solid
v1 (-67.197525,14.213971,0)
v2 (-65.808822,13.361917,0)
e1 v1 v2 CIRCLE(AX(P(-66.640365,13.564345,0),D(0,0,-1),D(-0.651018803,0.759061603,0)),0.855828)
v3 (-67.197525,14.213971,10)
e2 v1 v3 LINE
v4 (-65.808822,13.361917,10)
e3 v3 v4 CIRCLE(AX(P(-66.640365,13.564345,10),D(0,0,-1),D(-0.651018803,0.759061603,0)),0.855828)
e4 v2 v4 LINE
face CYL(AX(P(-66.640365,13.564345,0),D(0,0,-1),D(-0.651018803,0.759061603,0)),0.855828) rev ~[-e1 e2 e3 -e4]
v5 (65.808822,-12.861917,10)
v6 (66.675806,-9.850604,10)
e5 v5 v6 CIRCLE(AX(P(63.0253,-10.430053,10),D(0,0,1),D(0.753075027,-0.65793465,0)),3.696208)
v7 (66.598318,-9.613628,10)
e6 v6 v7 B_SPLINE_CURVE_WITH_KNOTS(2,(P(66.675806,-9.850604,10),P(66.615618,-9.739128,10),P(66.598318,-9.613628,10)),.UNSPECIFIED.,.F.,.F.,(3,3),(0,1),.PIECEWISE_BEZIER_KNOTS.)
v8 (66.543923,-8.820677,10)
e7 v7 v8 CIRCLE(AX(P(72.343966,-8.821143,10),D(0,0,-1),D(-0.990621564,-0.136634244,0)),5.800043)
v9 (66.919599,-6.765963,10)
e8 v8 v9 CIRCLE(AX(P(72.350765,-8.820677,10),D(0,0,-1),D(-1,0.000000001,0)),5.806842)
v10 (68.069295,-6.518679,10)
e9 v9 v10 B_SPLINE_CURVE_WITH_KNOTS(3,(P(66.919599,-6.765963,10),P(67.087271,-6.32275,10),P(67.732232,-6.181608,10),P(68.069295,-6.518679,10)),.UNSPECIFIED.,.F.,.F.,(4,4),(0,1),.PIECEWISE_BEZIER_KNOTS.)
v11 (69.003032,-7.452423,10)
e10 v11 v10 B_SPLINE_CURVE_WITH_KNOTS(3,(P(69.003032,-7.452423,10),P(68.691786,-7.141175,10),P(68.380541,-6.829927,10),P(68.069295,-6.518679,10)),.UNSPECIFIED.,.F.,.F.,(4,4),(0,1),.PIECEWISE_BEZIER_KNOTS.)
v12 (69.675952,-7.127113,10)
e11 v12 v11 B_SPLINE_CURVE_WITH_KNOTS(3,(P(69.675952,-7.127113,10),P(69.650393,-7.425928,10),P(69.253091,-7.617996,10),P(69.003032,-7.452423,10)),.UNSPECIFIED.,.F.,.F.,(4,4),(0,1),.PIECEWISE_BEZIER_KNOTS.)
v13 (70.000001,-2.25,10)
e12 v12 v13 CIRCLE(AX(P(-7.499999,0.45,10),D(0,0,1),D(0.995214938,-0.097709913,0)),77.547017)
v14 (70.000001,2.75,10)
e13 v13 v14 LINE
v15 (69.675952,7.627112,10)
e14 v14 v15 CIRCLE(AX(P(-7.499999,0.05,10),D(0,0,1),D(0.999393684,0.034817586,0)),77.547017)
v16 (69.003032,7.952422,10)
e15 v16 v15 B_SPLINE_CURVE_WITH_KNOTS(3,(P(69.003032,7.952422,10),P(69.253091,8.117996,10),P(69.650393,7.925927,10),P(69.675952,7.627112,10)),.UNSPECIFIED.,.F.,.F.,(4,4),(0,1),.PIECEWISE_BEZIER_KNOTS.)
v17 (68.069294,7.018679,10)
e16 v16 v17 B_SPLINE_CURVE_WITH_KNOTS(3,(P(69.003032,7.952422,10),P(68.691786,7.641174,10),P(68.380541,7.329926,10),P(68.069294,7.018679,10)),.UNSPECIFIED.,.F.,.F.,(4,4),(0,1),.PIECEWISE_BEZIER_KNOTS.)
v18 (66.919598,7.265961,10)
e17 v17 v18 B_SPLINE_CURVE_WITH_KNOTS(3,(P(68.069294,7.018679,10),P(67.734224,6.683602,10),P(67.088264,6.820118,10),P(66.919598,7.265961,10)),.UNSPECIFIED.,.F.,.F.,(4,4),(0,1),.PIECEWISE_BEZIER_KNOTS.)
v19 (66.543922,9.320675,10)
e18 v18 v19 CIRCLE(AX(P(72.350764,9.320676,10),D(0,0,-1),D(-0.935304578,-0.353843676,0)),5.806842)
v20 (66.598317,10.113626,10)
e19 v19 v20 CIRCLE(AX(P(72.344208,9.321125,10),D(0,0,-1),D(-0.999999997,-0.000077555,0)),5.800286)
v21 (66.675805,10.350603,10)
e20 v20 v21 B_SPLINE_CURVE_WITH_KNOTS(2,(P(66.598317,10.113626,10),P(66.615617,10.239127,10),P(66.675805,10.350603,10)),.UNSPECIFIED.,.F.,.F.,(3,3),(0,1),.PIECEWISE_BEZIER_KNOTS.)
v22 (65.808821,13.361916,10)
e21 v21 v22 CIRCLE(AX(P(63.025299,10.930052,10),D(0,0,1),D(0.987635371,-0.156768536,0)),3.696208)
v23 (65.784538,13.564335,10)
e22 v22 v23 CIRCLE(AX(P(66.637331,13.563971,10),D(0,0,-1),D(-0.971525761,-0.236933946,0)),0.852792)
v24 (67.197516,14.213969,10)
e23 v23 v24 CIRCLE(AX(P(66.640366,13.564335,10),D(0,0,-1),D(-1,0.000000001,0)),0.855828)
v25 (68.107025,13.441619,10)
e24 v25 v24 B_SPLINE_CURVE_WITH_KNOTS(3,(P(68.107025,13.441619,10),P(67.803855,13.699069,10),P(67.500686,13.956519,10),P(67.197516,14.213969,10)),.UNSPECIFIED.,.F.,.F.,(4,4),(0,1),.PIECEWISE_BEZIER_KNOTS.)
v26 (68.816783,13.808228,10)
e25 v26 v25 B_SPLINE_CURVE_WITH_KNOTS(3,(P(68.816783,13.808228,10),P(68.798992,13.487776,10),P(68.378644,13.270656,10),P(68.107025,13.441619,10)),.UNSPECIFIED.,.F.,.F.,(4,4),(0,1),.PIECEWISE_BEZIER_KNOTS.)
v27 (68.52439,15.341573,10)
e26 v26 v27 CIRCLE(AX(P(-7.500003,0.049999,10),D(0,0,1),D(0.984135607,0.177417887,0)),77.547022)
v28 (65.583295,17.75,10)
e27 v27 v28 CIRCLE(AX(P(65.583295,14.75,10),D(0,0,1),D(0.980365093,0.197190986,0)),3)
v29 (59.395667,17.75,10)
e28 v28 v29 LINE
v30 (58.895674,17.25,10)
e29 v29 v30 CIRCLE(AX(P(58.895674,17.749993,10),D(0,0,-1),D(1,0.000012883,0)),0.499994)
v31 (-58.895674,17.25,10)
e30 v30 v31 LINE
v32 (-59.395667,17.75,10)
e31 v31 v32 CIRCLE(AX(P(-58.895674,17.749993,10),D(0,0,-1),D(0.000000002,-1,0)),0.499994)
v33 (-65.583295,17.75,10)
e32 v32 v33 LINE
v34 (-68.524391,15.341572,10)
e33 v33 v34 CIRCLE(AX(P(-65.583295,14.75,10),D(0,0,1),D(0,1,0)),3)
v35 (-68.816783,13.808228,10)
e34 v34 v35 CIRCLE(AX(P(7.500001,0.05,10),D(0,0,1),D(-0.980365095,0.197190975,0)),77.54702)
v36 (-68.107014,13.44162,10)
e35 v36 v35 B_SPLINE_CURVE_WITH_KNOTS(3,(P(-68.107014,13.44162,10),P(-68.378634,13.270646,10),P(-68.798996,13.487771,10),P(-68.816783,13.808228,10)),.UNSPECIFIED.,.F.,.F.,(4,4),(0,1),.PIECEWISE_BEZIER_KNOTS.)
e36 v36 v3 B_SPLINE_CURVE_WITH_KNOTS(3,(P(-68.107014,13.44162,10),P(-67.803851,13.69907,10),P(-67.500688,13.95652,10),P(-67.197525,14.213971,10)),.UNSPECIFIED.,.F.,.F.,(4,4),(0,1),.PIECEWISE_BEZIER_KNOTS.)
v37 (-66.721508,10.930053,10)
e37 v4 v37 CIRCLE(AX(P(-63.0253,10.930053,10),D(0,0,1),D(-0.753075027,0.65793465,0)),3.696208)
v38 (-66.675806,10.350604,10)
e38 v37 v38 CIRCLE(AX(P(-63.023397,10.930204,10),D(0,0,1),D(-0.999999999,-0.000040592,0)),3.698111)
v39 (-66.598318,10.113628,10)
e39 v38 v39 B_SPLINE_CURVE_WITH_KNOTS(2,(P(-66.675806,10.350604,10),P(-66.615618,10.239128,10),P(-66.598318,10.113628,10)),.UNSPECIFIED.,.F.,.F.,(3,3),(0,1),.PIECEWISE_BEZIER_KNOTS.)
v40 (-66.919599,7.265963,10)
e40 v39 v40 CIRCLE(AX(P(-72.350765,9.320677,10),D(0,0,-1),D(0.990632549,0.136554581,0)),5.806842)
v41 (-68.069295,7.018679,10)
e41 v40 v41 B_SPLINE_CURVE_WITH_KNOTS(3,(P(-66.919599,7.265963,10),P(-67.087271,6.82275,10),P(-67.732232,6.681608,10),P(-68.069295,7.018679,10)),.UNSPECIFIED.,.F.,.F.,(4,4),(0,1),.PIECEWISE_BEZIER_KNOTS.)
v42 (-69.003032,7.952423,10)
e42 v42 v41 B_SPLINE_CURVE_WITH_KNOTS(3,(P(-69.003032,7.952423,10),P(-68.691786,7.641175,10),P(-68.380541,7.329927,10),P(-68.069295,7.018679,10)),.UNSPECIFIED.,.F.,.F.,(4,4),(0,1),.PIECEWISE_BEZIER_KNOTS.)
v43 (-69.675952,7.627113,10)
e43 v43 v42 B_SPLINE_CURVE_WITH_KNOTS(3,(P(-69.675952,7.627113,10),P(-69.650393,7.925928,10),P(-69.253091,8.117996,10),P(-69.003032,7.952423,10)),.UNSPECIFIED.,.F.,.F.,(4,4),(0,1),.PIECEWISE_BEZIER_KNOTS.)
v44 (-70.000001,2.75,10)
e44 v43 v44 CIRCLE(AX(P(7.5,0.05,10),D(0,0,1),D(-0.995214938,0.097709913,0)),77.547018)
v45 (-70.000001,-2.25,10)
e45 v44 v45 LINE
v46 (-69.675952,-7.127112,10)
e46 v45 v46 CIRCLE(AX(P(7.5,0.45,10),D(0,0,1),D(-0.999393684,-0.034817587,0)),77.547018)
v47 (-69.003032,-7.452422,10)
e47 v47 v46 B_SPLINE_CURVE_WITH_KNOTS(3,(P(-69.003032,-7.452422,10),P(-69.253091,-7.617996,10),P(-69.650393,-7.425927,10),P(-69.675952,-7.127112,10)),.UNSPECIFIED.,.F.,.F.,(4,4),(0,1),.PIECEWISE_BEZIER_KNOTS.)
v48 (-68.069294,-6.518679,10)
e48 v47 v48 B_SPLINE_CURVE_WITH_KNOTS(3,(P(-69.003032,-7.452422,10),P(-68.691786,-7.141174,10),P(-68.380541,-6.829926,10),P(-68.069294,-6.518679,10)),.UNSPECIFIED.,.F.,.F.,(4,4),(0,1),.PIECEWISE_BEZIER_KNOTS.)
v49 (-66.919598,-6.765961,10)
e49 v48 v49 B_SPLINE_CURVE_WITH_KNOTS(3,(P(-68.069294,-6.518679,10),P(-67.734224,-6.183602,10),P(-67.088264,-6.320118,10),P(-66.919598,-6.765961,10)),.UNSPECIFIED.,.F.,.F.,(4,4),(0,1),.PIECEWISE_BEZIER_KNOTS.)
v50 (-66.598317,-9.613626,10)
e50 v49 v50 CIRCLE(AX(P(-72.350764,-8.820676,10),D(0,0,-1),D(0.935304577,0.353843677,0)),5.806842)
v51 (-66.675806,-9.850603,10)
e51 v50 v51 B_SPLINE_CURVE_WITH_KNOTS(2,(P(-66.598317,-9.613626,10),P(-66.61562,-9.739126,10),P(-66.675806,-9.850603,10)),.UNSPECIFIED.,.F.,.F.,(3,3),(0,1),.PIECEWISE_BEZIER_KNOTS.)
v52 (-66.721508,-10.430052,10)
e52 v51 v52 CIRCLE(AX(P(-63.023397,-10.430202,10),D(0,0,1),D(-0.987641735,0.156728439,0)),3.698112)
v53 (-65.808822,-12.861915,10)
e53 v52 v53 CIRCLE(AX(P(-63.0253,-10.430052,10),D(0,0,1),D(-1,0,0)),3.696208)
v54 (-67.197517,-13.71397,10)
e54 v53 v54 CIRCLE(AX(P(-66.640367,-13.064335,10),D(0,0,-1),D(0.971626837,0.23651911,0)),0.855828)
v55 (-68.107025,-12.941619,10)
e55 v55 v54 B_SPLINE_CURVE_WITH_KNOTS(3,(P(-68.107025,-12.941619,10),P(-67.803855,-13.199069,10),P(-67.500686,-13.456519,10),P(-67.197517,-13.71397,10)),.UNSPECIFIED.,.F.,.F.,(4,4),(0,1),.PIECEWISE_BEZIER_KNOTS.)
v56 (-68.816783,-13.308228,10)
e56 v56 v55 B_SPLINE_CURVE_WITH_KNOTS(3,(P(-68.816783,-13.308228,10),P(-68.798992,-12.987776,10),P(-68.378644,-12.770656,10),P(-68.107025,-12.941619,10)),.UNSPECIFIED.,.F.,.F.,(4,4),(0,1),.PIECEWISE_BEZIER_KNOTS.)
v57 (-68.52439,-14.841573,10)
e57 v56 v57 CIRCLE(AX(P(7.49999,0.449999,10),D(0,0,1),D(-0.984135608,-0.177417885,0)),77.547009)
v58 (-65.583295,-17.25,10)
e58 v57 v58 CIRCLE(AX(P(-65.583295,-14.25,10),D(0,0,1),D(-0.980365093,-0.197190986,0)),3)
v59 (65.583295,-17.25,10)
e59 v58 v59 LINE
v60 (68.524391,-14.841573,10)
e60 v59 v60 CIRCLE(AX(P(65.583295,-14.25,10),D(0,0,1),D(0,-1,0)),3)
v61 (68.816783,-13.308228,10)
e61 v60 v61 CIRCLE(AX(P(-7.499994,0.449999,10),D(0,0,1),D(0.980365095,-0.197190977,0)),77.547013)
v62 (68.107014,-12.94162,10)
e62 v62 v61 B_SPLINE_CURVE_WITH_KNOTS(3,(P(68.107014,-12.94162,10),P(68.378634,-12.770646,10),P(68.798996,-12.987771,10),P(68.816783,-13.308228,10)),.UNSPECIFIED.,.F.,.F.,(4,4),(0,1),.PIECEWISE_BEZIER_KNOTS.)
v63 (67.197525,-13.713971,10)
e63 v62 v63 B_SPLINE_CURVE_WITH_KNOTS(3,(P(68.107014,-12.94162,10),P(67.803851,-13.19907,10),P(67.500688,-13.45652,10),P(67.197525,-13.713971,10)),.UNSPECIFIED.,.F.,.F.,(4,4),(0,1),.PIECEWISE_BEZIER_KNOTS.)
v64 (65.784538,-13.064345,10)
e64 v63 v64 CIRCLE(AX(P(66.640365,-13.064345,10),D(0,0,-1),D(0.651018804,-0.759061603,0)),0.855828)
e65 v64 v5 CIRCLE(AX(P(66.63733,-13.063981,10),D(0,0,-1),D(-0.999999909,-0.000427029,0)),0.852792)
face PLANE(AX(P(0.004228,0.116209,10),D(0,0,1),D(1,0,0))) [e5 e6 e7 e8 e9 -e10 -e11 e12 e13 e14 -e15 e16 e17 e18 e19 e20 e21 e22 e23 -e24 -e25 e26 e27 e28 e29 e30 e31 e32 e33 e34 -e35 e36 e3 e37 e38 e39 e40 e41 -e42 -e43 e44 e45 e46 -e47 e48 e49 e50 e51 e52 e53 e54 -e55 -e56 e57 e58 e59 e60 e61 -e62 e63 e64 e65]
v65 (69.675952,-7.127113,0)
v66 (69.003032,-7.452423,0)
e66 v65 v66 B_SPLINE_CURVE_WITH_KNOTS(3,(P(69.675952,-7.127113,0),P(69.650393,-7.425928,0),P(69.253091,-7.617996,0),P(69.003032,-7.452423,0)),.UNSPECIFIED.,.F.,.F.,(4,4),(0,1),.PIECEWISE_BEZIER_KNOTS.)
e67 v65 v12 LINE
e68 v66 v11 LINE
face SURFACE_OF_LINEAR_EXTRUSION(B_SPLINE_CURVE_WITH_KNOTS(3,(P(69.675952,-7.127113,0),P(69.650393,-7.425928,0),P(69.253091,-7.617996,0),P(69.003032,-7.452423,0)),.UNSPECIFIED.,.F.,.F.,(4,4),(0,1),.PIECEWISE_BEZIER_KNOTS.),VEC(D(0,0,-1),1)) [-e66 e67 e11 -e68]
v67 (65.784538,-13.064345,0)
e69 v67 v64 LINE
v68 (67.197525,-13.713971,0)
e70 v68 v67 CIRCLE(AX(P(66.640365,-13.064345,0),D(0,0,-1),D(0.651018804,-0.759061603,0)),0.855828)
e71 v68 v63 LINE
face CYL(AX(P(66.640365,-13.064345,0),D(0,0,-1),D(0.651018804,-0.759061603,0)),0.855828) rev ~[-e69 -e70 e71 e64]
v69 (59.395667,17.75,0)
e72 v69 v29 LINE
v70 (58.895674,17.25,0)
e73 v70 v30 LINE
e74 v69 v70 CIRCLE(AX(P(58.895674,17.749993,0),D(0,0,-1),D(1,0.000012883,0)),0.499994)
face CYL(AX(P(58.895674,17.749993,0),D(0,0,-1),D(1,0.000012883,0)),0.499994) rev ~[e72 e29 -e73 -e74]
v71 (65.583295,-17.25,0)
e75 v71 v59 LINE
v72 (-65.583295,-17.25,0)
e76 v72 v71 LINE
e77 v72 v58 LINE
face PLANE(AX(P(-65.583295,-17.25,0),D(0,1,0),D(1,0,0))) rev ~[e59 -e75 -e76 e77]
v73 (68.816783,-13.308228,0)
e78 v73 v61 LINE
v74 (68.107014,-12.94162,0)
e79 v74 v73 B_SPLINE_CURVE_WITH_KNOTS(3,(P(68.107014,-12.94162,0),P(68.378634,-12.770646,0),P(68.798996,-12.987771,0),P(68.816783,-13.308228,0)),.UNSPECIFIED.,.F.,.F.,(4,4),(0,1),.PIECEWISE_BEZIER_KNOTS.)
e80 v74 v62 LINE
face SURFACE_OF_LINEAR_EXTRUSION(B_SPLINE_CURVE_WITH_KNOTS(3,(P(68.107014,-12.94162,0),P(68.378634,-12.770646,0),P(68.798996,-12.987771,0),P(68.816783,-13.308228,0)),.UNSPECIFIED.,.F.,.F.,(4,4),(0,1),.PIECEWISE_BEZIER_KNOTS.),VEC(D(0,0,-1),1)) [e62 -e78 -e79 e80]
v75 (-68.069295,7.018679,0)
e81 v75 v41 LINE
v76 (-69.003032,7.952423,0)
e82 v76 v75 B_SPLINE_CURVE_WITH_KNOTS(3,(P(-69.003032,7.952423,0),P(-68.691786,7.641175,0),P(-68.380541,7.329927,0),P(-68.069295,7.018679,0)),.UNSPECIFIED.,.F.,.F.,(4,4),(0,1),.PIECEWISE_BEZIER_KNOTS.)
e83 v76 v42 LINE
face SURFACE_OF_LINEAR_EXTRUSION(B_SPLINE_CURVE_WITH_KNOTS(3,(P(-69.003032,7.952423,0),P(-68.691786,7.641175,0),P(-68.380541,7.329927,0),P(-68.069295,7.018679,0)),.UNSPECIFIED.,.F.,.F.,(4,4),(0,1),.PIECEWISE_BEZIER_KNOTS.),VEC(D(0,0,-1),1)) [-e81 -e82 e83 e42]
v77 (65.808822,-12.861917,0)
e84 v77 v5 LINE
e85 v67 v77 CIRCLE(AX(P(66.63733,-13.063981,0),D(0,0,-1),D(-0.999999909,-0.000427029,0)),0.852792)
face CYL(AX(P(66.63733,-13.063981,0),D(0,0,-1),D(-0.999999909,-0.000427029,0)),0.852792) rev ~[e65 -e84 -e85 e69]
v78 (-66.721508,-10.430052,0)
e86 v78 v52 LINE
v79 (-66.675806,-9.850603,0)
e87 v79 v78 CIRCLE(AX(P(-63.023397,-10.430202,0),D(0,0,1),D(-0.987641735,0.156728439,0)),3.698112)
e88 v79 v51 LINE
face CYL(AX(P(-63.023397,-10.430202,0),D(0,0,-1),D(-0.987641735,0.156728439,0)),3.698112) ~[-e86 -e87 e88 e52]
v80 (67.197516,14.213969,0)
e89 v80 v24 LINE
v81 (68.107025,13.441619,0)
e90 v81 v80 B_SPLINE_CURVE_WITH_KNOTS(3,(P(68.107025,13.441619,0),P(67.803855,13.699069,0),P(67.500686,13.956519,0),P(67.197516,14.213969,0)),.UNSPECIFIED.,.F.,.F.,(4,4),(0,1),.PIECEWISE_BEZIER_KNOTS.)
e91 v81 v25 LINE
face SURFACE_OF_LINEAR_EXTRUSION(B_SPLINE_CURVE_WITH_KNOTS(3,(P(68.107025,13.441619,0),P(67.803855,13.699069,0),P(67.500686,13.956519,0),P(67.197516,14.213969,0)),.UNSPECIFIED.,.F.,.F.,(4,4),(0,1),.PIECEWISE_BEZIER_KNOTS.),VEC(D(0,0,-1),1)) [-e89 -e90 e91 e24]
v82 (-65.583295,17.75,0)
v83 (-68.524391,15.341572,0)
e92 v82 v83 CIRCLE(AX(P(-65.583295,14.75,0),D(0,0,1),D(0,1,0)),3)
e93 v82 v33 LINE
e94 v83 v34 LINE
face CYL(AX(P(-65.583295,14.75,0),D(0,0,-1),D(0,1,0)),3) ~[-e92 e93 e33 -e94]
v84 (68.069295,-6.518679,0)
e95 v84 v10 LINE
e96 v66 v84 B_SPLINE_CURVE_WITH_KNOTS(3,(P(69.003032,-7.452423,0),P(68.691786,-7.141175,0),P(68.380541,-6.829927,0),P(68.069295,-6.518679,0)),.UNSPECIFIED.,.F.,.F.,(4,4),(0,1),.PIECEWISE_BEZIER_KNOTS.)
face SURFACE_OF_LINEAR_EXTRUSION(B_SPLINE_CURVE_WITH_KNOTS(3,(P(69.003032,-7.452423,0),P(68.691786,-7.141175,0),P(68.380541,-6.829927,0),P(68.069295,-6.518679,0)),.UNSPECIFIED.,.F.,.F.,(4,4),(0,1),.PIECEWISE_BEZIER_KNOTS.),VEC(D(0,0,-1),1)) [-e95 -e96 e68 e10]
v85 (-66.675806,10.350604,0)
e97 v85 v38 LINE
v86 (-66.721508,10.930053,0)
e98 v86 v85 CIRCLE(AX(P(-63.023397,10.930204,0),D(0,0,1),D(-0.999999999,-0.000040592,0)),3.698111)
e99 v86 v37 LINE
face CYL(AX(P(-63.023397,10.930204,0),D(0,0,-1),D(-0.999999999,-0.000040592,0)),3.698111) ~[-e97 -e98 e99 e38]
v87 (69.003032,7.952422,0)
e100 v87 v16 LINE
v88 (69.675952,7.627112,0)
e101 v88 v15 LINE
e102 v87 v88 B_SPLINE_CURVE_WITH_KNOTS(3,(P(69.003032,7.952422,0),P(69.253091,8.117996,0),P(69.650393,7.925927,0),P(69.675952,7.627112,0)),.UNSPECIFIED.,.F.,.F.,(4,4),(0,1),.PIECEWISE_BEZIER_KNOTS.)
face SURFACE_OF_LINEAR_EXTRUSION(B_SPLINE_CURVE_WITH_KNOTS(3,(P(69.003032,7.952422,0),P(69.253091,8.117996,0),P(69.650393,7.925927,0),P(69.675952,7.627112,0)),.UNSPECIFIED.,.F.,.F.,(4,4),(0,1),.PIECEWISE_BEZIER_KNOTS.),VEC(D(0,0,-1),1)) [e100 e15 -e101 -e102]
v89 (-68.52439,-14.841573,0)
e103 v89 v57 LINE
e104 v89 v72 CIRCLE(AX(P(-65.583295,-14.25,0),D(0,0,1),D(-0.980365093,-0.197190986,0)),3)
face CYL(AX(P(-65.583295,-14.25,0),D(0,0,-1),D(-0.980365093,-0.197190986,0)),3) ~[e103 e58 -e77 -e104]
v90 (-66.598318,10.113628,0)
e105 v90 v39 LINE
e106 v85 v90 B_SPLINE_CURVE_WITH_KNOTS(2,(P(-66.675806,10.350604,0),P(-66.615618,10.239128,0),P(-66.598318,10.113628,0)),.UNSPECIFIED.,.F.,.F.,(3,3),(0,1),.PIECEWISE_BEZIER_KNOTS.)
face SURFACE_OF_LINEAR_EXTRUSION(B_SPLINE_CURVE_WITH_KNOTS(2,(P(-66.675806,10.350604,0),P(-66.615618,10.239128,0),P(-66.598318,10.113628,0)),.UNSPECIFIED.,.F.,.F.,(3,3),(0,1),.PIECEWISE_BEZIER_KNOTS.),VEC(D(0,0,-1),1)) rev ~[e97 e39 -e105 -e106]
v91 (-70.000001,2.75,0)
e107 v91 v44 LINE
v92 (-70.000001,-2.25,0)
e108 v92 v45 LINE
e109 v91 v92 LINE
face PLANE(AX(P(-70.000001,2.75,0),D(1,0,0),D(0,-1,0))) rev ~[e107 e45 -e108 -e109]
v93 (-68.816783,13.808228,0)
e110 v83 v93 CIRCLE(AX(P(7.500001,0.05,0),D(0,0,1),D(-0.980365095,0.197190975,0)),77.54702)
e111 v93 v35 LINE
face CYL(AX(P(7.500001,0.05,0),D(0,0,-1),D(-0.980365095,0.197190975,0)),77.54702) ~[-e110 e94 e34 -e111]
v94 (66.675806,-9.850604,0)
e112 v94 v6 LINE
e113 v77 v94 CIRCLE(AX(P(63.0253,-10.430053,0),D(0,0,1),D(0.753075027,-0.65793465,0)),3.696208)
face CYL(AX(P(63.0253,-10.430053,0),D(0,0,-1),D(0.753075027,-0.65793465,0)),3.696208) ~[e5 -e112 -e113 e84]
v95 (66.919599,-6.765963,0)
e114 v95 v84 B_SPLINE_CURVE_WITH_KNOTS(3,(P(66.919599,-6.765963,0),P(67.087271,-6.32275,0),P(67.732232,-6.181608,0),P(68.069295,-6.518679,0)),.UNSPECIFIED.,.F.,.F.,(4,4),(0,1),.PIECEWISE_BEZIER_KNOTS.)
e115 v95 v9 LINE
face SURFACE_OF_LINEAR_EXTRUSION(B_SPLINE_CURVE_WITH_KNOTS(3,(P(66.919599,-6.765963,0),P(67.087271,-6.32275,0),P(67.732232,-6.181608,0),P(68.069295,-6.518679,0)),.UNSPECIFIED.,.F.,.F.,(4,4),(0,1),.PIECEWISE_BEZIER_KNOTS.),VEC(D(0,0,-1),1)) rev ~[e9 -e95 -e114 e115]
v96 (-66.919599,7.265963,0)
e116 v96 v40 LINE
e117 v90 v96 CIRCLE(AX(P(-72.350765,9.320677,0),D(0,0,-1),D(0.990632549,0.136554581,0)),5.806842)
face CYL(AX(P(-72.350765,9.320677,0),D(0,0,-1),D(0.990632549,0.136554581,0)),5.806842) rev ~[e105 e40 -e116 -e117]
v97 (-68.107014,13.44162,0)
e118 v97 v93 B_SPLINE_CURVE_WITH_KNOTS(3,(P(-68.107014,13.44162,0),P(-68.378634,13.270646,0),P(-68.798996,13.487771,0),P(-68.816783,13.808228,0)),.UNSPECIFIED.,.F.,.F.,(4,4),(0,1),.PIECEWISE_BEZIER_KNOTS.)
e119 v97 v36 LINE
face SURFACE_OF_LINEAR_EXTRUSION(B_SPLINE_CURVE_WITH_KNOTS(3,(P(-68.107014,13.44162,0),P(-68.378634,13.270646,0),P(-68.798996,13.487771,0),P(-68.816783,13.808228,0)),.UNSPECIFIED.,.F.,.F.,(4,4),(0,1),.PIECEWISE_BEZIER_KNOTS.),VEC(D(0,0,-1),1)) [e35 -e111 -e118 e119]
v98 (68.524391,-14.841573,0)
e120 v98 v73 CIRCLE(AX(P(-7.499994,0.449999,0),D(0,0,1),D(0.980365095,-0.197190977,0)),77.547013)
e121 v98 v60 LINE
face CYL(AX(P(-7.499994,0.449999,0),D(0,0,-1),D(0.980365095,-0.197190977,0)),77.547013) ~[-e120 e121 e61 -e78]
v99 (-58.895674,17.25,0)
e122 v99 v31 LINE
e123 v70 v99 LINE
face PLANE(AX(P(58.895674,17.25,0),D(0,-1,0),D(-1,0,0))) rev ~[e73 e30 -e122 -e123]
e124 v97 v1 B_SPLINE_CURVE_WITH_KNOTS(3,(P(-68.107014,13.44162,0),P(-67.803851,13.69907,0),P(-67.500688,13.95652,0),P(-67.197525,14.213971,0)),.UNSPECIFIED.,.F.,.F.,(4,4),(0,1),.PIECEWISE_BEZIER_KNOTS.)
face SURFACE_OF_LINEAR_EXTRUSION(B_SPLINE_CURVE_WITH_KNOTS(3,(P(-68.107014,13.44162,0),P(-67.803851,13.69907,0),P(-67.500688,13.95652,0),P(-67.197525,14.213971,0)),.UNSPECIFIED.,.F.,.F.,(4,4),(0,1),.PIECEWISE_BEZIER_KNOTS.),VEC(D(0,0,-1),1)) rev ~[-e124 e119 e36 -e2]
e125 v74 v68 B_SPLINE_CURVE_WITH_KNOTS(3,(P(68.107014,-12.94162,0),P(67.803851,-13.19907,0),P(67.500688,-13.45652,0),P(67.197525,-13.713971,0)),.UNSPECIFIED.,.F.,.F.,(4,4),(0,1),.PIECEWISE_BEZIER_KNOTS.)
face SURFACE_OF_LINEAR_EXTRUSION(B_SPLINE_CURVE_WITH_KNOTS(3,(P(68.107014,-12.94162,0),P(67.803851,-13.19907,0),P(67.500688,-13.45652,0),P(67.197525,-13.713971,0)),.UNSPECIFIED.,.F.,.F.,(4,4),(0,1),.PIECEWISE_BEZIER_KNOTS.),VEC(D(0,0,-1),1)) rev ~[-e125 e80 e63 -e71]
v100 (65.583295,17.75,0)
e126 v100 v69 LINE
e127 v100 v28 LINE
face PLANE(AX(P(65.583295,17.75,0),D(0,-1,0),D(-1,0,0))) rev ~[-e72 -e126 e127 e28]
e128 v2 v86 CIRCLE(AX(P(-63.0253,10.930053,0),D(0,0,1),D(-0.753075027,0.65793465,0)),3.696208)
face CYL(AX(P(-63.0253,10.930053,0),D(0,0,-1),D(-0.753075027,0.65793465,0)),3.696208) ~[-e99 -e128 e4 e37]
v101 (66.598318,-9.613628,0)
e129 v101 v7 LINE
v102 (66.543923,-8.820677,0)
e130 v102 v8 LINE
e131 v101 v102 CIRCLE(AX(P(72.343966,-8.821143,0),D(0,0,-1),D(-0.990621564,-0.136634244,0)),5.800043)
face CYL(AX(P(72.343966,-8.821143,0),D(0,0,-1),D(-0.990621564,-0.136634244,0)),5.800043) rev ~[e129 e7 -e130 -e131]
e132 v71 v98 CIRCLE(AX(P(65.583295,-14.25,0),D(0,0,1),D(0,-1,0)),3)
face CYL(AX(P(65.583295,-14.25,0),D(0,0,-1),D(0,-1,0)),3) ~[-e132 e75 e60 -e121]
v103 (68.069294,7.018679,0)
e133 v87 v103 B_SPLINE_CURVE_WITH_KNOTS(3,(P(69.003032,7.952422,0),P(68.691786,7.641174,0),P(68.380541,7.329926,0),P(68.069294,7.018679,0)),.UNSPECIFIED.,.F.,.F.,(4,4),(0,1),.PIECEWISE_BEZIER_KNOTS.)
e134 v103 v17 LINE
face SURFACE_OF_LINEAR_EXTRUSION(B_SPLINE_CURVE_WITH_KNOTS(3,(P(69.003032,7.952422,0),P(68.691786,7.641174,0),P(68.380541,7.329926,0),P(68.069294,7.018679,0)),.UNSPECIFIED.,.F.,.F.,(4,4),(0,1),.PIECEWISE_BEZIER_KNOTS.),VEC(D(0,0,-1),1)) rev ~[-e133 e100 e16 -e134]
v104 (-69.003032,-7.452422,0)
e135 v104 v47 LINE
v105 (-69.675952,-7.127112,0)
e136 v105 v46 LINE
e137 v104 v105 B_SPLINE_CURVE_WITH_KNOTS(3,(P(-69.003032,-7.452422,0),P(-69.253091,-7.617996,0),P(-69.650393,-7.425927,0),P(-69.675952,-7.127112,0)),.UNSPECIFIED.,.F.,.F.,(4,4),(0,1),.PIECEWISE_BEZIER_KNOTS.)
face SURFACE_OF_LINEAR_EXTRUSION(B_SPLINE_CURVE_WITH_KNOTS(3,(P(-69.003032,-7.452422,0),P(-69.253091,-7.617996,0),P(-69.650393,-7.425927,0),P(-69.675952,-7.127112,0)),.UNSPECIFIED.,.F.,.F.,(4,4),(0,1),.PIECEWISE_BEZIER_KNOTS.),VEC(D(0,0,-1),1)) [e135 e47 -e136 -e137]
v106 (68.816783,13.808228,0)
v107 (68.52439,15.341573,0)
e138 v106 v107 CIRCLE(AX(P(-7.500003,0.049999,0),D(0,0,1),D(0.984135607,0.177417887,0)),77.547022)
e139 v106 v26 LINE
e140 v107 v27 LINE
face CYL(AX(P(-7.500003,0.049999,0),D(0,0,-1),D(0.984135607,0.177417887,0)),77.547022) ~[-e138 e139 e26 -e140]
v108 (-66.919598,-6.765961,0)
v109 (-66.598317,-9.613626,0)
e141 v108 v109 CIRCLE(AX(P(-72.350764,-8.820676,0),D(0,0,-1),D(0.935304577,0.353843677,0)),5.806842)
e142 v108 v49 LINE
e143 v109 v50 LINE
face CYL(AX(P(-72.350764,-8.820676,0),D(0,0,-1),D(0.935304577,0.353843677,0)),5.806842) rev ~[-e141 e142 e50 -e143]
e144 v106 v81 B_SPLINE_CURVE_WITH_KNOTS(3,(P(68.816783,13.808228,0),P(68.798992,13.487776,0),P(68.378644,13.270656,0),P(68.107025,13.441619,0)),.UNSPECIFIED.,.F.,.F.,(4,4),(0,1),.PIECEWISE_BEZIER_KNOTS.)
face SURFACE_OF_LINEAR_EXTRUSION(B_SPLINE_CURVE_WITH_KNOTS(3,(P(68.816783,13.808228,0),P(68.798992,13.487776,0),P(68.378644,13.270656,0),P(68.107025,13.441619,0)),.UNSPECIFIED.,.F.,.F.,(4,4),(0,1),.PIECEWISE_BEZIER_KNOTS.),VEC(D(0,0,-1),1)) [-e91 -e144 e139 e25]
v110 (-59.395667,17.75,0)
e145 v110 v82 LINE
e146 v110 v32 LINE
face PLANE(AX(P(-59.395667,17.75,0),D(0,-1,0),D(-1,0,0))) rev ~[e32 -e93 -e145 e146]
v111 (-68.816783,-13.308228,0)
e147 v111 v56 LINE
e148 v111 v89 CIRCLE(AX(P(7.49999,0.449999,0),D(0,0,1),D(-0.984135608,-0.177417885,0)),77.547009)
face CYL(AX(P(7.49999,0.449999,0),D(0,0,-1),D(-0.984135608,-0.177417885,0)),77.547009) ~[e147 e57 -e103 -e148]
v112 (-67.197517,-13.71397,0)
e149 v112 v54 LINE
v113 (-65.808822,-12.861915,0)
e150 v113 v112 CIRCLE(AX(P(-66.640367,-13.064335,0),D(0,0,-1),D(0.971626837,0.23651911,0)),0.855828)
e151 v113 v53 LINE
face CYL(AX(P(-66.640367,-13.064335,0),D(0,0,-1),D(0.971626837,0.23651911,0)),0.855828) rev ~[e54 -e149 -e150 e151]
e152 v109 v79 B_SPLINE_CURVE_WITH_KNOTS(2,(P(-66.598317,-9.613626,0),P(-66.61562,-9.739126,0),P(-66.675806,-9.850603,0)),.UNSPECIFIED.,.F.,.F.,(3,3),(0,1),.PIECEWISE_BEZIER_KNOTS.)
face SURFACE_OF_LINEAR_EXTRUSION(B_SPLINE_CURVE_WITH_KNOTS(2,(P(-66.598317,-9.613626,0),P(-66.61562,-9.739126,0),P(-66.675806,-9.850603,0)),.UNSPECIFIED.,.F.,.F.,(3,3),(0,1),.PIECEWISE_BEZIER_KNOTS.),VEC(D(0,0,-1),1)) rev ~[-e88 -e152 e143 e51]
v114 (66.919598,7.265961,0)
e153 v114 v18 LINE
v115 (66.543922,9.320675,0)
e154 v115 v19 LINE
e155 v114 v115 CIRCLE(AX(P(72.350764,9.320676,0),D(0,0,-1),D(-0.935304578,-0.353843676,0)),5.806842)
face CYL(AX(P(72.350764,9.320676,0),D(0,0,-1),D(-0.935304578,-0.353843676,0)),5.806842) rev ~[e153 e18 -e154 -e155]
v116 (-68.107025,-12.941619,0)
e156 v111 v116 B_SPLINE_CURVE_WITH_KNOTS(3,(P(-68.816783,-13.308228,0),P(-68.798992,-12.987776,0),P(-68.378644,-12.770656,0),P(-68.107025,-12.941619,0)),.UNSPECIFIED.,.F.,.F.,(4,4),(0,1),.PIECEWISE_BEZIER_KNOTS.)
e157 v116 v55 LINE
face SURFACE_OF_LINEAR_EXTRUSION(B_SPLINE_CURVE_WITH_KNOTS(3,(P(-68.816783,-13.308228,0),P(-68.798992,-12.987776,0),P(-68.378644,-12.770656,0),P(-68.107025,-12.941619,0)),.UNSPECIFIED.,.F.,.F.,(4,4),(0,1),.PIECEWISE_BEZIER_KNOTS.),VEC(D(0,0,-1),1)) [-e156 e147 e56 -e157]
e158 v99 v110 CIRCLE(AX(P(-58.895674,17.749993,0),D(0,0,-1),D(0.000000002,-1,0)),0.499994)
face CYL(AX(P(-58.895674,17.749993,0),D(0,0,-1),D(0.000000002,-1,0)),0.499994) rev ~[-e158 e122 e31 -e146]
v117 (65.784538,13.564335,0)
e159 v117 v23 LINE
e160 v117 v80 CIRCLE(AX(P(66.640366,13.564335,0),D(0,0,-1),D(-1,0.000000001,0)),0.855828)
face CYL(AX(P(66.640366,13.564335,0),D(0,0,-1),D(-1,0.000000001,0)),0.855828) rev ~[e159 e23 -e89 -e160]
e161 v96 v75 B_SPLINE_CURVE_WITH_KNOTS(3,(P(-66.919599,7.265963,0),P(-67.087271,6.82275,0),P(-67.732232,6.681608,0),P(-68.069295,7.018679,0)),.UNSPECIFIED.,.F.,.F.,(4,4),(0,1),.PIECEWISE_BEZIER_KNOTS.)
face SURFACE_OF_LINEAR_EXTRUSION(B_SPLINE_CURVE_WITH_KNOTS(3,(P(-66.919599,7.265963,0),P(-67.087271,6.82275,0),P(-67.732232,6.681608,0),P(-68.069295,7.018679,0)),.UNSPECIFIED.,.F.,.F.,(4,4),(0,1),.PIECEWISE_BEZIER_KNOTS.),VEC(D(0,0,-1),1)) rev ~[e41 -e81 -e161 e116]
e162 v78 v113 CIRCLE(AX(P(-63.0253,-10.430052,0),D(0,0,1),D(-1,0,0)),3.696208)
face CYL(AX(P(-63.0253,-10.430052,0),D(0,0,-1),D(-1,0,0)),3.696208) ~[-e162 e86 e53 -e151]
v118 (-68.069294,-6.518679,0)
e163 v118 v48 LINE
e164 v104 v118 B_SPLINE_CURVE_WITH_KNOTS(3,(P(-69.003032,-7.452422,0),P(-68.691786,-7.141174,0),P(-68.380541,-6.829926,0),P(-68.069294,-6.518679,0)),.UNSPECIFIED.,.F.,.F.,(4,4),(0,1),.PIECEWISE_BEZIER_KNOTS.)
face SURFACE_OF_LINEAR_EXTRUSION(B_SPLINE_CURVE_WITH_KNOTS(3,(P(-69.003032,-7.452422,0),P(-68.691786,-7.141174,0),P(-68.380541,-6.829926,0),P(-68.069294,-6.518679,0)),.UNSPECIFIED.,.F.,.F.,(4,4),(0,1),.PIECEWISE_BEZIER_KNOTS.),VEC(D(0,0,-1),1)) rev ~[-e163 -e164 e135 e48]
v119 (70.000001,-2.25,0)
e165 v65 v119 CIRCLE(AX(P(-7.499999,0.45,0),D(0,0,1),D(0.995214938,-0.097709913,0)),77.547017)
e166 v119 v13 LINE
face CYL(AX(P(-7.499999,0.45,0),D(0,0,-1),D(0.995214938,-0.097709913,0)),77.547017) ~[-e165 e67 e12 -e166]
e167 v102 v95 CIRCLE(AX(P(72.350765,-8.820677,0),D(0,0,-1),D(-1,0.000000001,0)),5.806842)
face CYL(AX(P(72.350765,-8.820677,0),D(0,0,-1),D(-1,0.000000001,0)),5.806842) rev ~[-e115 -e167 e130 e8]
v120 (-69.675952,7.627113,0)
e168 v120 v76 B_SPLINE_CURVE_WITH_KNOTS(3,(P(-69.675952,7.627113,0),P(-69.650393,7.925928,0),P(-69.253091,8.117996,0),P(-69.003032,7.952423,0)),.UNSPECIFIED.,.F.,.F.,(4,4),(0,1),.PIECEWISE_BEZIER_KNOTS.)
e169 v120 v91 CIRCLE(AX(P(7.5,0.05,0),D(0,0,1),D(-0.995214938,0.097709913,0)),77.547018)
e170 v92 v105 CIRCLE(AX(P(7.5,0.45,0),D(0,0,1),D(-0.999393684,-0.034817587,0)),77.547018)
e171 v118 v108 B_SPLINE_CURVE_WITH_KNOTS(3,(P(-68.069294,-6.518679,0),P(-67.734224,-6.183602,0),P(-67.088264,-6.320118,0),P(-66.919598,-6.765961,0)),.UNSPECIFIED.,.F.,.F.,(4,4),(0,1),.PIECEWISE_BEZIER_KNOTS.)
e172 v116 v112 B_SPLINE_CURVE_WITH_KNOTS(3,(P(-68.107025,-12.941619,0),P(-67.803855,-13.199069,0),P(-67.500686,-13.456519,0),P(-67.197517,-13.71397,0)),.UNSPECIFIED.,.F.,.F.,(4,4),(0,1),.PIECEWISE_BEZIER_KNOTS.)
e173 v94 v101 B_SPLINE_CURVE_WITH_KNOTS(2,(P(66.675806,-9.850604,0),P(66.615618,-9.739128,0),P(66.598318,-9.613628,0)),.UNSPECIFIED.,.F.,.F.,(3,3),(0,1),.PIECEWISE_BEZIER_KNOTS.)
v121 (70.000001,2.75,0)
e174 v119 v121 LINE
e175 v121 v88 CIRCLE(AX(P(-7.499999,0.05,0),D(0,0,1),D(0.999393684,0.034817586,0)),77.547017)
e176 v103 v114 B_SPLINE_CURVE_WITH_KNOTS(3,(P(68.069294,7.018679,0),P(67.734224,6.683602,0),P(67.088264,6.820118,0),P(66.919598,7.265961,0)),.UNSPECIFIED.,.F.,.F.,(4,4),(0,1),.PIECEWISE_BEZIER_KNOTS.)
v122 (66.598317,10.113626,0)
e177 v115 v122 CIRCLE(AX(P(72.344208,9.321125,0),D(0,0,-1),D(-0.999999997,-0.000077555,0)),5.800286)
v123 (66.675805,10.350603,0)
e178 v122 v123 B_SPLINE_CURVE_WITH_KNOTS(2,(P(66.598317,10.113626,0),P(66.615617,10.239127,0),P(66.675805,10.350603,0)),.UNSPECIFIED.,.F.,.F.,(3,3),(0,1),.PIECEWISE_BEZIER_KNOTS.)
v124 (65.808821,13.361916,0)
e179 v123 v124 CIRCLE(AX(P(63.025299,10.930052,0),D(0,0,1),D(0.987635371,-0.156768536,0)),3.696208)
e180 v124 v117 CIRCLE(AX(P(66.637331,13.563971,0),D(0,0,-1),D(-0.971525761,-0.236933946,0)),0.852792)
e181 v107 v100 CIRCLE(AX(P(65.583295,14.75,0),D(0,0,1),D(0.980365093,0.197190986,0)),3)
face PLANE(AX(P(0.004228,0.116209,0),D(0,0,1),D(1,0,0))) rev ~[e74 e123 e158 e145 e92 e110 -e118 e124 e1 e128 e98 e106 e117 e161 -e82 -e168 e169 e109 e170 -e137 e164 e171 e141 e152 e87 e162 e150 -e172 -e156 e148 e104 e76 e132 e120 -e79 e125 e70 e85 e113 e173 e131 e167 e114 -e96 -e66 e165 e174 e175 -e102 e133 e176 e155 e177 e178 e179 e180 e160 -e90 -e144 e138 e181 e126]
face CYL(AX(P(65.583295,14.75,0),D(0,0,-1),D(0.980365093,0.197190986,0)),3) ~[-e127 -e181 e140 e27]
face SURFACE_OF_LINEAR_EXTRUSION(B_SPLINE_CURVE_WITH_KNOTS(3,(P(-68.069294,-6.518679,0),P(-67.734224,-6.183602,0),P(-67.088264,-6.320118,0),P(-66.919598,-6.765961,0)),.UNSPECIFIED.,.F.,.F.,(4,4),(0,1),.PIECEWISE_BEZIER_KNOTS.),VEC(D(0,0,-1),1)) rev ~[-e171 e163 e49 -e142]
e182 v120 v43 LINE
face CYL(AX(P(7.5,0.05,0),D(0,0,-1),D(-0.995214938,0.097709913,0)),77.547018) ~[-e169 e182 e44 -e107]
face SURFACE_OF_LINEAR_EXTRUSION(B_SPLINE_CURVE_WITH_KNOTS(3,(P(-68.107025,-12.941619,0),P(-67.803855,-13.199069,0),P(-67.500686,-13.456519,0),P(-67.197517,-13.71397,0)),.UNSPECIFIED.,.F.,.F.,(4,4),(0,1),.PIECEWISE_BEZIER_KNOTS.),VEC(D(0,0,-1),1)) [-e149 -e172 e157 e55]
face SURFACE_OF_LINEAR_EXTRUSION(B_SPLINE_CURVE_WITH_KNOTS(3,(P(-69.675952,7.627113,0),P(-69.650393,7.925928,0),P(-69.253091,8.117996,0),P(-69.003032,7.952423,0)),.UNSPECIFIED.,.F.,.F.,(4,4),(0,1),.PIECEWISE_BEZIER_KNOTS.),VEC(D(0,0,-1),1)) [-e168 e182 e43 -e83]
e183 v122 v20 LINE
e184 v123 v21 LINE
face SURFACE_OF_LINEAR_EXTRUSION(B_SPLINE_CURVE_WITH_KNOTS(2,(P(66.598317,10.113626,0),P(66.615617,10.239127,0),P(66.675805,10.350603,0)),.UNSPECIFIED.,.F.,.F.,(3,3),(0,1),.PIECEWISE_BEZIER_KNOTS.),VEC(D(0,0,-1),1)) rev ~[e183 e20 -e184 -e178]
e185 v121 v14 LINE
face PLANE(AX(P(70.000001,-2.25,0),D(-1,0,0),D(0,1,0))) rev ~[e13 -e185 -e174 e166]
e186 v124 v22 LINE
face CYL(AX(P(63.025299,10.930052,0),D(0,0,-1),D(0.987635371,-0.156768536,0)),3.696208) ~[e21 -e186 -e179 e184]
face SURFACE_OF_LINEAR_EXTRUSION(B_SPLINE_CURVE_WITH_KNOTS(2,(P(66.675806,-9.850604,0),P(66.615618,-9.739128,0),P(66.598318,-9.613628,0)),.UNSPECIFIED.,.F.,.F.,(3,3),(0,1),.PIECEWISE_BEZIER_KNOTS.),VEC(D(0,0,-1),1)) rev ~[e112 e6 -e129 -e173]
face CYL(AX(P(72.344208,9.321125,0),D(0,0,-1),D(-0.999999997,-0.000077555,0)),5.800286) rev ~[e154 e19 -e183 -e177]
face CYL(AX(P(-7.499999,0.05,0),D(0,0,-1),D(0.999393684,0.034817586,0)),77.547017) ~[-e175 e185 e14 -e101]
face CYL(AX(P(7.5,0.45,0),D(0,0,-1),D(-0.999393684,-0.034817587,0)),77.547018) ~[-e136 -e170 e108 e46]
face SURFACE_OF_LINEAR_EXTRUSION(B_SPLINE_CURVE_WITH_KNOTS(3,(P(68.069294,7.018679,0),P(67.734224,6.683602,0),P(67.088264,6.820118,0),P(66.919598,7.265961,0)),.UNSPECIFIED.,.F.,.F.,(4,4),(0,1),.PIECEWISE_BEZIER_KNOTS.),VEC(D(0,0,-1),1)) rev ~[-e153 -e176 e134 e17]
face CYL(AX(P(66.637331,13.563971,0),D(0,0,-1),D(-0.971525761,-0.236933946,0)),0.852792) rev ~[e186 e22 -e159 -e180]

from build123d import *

# Parameters (mm, degrees)
BOSS_EXTRUDE1_DEPTH = 10


with BuildPart() as part:
    # Sketch4 → Boss-Extrude1 (new body)
    with BuildSketch(Plane(origin=(-596.752057113, -420.633982059, 0), x_dir=(1, 0, 0), z_dir=(0, 0, 1))):
        with BuildLine():
            ThreePointArc((537.856383508, 437.883981662), (537.502832434, 438.030428645), (537.356390004, 438.383981605))
            Line((537.356390004, 438.383981605), (531.168761831, 438.383981605))
            ThreePointArc((531.168761831, 438.383981605), (529.26806706, 437.705050192), (528.227666546, 435.975554529))
            ThreePointArc((528.227666546, 435.975554529), (528.077612298, 435.20961824), (527.93527456, 434.442210497))
            add(Edge.make_bspline(
                [(528.645043035, 434.075601683), (528.373422677, 433.904628447), (527.953061604, 434.121752875), (527.93527456, 434.442210497)],
                knots=[0, 0, 0, 0, 1, 1, 1, 1], degree=3))
            add(Edge.make_bspline(
                [(528.645043035, 434.075601683), (528.948206003, 434.333052007), (529.251368972, 434.590502331), (529.55453194, 434.847952656)],
                knots=[0, 0, 0, 0, 1, 1, 1, 1], degree=3))
            ThreePointArc((529.55453194, 434.847952656), (530.559263516, 434.927792658), (530.943234874, 433.995898908))
            ThreePointArc((530.943234874, 433.995898908), (530.266234445, 432.862780603), (530.030548766, 431.564035464))
            ThreePointArc((530.030548766, 431.564035464), (530.04199793, 431.273411596), (530.076251009, 430.984586316))
            add(Edge.make_bspline(
                [(530.076251009, 430.984586316), (530.136438997, 430.87310997), (530.153738674, 430.747609806)],
                knots=[0, 0, 0, 1, 1, 1], degree=2))
            ThreePointArc((530.153738674, 430.747609806), (530.171525682, 429.303646555), (529.832457882, 427.899944565))
            add(Edge.make_bspline(
                [(529.832457882, 427.899944565), (529.664786165, 427.456732189), (529.019825312, 427.315590122), (528.682762303, 427.652660836)],
                knots=[0, 0, 0, 0, 1, 1, 1, 1], degree=3))
            add(Edge.make_bspline(
                [(527.749025131, 428.586405192), (528.060270855, 428.275157074), (528.371516579, 427.963908955), (528.682762303, 427.652660836)],
                knots=[0, 0, 0, 0, 1, 1, 1, 1], degree=3))
            add(Edge.make_bspline(
                [(527.076105496, 428.261094814), (527.101664269, 428.559910263), (527.498966326, 428.751978492), (527.749025131, 428.586405192)],
                knots=[0, 0, 0, 0, 1, 1, 1, 1], degree=3))
            ThreePointArc((527.076105496, 428.261094814), (526.875645149, 425.825092413), (526.752056208, 423.383982457))
            Line((526.752056208, 423.383982457), (526.752056208, 418.383982457))
            ThreePointArc((526.752056208, 418.383982457), (526.875645149, 415.9428725), (527.076105496, 413.506870099))
            add(Edge.make_bspline(
                [(527.749025131, 413.181559721), (527.498966326, 413.015986421), (527.101664269, 413.20805465), (527.076105496, 413.506870099)],
                knots=[0, 0, 0, 0, 1, 1, 1, 1], degree=3))
            add(Edge.make_bspline(
                [(527.749025131, 413.181559721), (528.060270855, 413.492807839), (528.371516579, 413.804055958), (528.682763021, 414.115303358)],
                knots=[0, 0, 0, 0, 1, 1, 1, 1], degree=3))
            add(Edge.make_bspline(
                [(528.682763021, 414.115303358), (529.017832696, 414.450379772), (529.663792656, 414.313863986), (529.832459308, 413.868020888)],
                knots=[0, 0, 0, 0, 1, 1, 1, 1], degree=3))
            ThreePointArc((529.832459308, 413.868020888), (530.171527108, 412.464318898), (530.153740099, 411.020355646))
            add(Edge.make_bspline(
                [(530.153740099, 411.020355646), (530.136437403, 410.894855899), (530.076250924, 410.783379344)],
                knots=[0, 0, 0, 1, 1, 1], degree=2))
            ThreePointArc((530.076250924, 410.783379344), (530.041997846, 410.494554064), (530.030548681, 410.203930197))
            ThreePointArc((530.030548681, 410.203930197), (530.26623436, 408.905185058), (530.94323479, 407.772066752))
            ThreePointArc((530.94323479, 407.772066752), (530.559263583, 406.840182612), (529.554540169, 406.920012427))
            add(Edge.make_bspline(
                [(528.645032562, 407.692363435), (528.948201765, 407.434913099), (529.251370967, 407.177462763), (529.554540169, 406.920012427)],
                knots=[0, 0, 0, 0, 1, 1, 1, 1], degree=3))
            add(Edge.make_bspline(
                [(527.93527456, 407.325754416), (527.953065541, 407.64620576), (528.37341291, 407.863326434), (528.645032562, 407.692363435)],
                knots=[0, 0, 0, 0, 1, 1, 1, 1], degree=3))
            ThreePointArc((527.93527456, 407.325754416), (528.077612382, 406.558346229), (528.227666724, 405.792409498))
            ThreePointArc((528.227666724, 405.792409498), (529.268067244, 404.062913858), (531.168762002, 403.383982456))
            Line((531.168762002, 403.383982456), (537.00283853, 403.383982456))
            Line((537.00283853, 403.383982456), (538.002825655, 403.383982456))
            Line((538.002825655, 403.383982456), (655.501288571, 403.383982456))
            Line((655.501288571, 403.383982456), (656.501275696, 403.383982456))
            Line((656.501275696, 403.383982456), (662.335352383, 403.383982456))
            ThreePointArc((662.335352383, 403.383982456), (664.236047153, 404.062913868), (665.276447667, 405.79240953))
            ThreePointArc((665.276447667, 405.79240953), (665.426501922, 406.558345849), (665.568839666, 407.325753624))
            add(Edge.make_bspline(
                [(664.859071191, 407.692362438), (665.130691549, 407.863335674), (665.551052622, 407.646211246), (665.568839666, 407.325753624)],
                knots=[0, 0, 0, 0, 1, 1, 1, 1], degree=3))
            add(Edge.make_bspline(
                [(664.859071191, 407.692362438), (664.555908222, 407.434912114), (664.252745254, 407.17746179), (663.949582286, 406.920011465)],
                knots=[0, 0, 0, 0, 1, 1, 1, 1], degree=3))
            ThreePointArc((663.949582286, 406.920011465), (663.034925489, 406.792053361), (662.5365948, 407.569637347))
            ThreePointArc((662.5365948, 407.569637347), (662.542665938, 407.671579613), (662.560879352, 407.772065213))
            ThreePointArc((662.560879352, 407.772065213), (663.329283515, 409.181297278), (663.427863217, 410.783377805))
            add(Edge.make_bspline(
                [(663.427863217, 410.783377805), (663.367675229, 410.894854151), (663.350375552, 411.020354315)],
                knots=[0, 0, 0, 1, 1, 1], degree=2))
            ThreePointArc((663.350375552, 411.020354315), (663.309579069, 411.4158969), (663.295980241, 411.813305205))
            ThreePointArc((663.295980241, 411.813305205), (663.390671322, 412.857693016), (663.671656343, 413.868019556))
            add(Edge.make_bspline(
                [(663.671656343, 413.868019556), (663.83932806, 414.311231933), (664.484288913, 414.452373999), (664.821351923, 414.115303285)],
                knots=[0, 0, 0, 0, 1, 1, 1, 1], degree=3))
            add(Edge.make_bspline(
                [(665.755089095, 413.181558929), (665.443843371, 413.492807047), (665.132597647, 413.804055166), (664.821351923, 414.115303285)],
                knots=[0, 0, 0, 0, 1, 1, 1, 1], degree=3))
            add(Edge.make_bspline(
                [(666.42800873, 413.506869307), (666.402449957, 413.208053858), (666.005147899, 413.015985629), (665.755089095, 413.181558929)],
                knots=[0, 0, 0, 0, 1, 1, 1, 1], degree=3))
            ThreePointArc((666.42800873, 413.506869307), (666.628469077, 415.942871708), (666.752058017, 418.383981664))
            Line((666.752058017, 418.383981664), (666.752058017, 423.383981664))
            ThreePointArc((666.752058017, 423.383981664), (666.628469077, 425.825091621), (666.42800873, 428.261094022))
            add(Edge.make_bspline(
                [(665.755089095, 428.5864044), (666.0051479, 428.7519777), (666.402449957, 428.559909471), (666.42800873, 428.261094022)],
                knots=[0, 0, 0, 0, 1, 1, 1, 1], degree=3))
            add(Edge.make_bspline(
                [(665.755089095, 428.5864044), (665.443843371, 428.275156282), (665.132597647, 427.963908163), (664.821351205, 427.652660763)],
                knots=[0, 0, 0, 0, 1, 1, 1, 1], degree=3))
            add(Edge.make_bspline(
                [(664.821351205, 427.652660763), (664.486281529, 427.317584349), (663.84032157, 427.454100135), (663.671654918, 427.899943234)],
                knots=[0, 0, 0, 0, 1, 1, 1, 1], degree=3))
            ThreePointArc((663.671654918, 427.899943234), (663.390669906, 428.910269722), (663.295978816, 429.95465748))
            ThreePointArc((663.295978816, 429.95465748), (663.309578212, 430.352065799), (663.350374127, 430.747608475))
            add(Edge.make_bspline(
                [(663.350374127, 430.747608475), (663.367673803, 430.873108638), (663.427861792, 430.984584985)],
                knots=[0, 0, 0, 1, 1, 1], degree=2))
            ThreePointArc((663.427861792, 430.984584985), (663.329282089, 432.586665512), (662.560877926, 433.995897577))
            ThreePointArc((662.560877926, 433.995897577), (662.542666024, 434.096379128), (662.53659539, 434.198317163))
            ThreePointArc((662.53659539, 434.198317163), (663.034920482, 434.975898575), (663.949573523, 434.847951066))
            add(Edge.make_bspline(
                [(664.859081663, 434.075600686), (664.555912283, 434.333050813), (664.252742903, 434.590500939), (663.949573523, 434.847951066)],
                knots=[0, 0, 0, 0, 1, 1, 1, 1], degree=3))
            add(Edge.make_bspline(
                [(665.568839666, 434.442209705), (665.551048684, 434.121758361), (665.130701316, 433.904637687), (664.859081663, 434.075600686)],
                knots=[0, 0, 0, 0, 1, 1, 1, 1], degree=3))
            ThreePointArc((665.568839666, 434.442209705), (665.426501849, 435.209617861), (665.276447514, 435.975554561))
            ThreePointArc((665.276447514, 435.975554561), (664.236046994, 437.705050202), (662.335352236, 438.383981605))
            Line((662.335352236, 438.383981605), (656.147724221, 438.383981605))
            ThreePointArc((656.147724221, 438.383981605), (656.001281792, 438.030428645), (655.647730718, 437.883981662))
            Line((655.647730718, 437.883981662), (537.856383508, 437.883981662))
        make_face()
    extrude(amount=BOSS_EXTRUDE1_DEPTH)


solid = part.part
